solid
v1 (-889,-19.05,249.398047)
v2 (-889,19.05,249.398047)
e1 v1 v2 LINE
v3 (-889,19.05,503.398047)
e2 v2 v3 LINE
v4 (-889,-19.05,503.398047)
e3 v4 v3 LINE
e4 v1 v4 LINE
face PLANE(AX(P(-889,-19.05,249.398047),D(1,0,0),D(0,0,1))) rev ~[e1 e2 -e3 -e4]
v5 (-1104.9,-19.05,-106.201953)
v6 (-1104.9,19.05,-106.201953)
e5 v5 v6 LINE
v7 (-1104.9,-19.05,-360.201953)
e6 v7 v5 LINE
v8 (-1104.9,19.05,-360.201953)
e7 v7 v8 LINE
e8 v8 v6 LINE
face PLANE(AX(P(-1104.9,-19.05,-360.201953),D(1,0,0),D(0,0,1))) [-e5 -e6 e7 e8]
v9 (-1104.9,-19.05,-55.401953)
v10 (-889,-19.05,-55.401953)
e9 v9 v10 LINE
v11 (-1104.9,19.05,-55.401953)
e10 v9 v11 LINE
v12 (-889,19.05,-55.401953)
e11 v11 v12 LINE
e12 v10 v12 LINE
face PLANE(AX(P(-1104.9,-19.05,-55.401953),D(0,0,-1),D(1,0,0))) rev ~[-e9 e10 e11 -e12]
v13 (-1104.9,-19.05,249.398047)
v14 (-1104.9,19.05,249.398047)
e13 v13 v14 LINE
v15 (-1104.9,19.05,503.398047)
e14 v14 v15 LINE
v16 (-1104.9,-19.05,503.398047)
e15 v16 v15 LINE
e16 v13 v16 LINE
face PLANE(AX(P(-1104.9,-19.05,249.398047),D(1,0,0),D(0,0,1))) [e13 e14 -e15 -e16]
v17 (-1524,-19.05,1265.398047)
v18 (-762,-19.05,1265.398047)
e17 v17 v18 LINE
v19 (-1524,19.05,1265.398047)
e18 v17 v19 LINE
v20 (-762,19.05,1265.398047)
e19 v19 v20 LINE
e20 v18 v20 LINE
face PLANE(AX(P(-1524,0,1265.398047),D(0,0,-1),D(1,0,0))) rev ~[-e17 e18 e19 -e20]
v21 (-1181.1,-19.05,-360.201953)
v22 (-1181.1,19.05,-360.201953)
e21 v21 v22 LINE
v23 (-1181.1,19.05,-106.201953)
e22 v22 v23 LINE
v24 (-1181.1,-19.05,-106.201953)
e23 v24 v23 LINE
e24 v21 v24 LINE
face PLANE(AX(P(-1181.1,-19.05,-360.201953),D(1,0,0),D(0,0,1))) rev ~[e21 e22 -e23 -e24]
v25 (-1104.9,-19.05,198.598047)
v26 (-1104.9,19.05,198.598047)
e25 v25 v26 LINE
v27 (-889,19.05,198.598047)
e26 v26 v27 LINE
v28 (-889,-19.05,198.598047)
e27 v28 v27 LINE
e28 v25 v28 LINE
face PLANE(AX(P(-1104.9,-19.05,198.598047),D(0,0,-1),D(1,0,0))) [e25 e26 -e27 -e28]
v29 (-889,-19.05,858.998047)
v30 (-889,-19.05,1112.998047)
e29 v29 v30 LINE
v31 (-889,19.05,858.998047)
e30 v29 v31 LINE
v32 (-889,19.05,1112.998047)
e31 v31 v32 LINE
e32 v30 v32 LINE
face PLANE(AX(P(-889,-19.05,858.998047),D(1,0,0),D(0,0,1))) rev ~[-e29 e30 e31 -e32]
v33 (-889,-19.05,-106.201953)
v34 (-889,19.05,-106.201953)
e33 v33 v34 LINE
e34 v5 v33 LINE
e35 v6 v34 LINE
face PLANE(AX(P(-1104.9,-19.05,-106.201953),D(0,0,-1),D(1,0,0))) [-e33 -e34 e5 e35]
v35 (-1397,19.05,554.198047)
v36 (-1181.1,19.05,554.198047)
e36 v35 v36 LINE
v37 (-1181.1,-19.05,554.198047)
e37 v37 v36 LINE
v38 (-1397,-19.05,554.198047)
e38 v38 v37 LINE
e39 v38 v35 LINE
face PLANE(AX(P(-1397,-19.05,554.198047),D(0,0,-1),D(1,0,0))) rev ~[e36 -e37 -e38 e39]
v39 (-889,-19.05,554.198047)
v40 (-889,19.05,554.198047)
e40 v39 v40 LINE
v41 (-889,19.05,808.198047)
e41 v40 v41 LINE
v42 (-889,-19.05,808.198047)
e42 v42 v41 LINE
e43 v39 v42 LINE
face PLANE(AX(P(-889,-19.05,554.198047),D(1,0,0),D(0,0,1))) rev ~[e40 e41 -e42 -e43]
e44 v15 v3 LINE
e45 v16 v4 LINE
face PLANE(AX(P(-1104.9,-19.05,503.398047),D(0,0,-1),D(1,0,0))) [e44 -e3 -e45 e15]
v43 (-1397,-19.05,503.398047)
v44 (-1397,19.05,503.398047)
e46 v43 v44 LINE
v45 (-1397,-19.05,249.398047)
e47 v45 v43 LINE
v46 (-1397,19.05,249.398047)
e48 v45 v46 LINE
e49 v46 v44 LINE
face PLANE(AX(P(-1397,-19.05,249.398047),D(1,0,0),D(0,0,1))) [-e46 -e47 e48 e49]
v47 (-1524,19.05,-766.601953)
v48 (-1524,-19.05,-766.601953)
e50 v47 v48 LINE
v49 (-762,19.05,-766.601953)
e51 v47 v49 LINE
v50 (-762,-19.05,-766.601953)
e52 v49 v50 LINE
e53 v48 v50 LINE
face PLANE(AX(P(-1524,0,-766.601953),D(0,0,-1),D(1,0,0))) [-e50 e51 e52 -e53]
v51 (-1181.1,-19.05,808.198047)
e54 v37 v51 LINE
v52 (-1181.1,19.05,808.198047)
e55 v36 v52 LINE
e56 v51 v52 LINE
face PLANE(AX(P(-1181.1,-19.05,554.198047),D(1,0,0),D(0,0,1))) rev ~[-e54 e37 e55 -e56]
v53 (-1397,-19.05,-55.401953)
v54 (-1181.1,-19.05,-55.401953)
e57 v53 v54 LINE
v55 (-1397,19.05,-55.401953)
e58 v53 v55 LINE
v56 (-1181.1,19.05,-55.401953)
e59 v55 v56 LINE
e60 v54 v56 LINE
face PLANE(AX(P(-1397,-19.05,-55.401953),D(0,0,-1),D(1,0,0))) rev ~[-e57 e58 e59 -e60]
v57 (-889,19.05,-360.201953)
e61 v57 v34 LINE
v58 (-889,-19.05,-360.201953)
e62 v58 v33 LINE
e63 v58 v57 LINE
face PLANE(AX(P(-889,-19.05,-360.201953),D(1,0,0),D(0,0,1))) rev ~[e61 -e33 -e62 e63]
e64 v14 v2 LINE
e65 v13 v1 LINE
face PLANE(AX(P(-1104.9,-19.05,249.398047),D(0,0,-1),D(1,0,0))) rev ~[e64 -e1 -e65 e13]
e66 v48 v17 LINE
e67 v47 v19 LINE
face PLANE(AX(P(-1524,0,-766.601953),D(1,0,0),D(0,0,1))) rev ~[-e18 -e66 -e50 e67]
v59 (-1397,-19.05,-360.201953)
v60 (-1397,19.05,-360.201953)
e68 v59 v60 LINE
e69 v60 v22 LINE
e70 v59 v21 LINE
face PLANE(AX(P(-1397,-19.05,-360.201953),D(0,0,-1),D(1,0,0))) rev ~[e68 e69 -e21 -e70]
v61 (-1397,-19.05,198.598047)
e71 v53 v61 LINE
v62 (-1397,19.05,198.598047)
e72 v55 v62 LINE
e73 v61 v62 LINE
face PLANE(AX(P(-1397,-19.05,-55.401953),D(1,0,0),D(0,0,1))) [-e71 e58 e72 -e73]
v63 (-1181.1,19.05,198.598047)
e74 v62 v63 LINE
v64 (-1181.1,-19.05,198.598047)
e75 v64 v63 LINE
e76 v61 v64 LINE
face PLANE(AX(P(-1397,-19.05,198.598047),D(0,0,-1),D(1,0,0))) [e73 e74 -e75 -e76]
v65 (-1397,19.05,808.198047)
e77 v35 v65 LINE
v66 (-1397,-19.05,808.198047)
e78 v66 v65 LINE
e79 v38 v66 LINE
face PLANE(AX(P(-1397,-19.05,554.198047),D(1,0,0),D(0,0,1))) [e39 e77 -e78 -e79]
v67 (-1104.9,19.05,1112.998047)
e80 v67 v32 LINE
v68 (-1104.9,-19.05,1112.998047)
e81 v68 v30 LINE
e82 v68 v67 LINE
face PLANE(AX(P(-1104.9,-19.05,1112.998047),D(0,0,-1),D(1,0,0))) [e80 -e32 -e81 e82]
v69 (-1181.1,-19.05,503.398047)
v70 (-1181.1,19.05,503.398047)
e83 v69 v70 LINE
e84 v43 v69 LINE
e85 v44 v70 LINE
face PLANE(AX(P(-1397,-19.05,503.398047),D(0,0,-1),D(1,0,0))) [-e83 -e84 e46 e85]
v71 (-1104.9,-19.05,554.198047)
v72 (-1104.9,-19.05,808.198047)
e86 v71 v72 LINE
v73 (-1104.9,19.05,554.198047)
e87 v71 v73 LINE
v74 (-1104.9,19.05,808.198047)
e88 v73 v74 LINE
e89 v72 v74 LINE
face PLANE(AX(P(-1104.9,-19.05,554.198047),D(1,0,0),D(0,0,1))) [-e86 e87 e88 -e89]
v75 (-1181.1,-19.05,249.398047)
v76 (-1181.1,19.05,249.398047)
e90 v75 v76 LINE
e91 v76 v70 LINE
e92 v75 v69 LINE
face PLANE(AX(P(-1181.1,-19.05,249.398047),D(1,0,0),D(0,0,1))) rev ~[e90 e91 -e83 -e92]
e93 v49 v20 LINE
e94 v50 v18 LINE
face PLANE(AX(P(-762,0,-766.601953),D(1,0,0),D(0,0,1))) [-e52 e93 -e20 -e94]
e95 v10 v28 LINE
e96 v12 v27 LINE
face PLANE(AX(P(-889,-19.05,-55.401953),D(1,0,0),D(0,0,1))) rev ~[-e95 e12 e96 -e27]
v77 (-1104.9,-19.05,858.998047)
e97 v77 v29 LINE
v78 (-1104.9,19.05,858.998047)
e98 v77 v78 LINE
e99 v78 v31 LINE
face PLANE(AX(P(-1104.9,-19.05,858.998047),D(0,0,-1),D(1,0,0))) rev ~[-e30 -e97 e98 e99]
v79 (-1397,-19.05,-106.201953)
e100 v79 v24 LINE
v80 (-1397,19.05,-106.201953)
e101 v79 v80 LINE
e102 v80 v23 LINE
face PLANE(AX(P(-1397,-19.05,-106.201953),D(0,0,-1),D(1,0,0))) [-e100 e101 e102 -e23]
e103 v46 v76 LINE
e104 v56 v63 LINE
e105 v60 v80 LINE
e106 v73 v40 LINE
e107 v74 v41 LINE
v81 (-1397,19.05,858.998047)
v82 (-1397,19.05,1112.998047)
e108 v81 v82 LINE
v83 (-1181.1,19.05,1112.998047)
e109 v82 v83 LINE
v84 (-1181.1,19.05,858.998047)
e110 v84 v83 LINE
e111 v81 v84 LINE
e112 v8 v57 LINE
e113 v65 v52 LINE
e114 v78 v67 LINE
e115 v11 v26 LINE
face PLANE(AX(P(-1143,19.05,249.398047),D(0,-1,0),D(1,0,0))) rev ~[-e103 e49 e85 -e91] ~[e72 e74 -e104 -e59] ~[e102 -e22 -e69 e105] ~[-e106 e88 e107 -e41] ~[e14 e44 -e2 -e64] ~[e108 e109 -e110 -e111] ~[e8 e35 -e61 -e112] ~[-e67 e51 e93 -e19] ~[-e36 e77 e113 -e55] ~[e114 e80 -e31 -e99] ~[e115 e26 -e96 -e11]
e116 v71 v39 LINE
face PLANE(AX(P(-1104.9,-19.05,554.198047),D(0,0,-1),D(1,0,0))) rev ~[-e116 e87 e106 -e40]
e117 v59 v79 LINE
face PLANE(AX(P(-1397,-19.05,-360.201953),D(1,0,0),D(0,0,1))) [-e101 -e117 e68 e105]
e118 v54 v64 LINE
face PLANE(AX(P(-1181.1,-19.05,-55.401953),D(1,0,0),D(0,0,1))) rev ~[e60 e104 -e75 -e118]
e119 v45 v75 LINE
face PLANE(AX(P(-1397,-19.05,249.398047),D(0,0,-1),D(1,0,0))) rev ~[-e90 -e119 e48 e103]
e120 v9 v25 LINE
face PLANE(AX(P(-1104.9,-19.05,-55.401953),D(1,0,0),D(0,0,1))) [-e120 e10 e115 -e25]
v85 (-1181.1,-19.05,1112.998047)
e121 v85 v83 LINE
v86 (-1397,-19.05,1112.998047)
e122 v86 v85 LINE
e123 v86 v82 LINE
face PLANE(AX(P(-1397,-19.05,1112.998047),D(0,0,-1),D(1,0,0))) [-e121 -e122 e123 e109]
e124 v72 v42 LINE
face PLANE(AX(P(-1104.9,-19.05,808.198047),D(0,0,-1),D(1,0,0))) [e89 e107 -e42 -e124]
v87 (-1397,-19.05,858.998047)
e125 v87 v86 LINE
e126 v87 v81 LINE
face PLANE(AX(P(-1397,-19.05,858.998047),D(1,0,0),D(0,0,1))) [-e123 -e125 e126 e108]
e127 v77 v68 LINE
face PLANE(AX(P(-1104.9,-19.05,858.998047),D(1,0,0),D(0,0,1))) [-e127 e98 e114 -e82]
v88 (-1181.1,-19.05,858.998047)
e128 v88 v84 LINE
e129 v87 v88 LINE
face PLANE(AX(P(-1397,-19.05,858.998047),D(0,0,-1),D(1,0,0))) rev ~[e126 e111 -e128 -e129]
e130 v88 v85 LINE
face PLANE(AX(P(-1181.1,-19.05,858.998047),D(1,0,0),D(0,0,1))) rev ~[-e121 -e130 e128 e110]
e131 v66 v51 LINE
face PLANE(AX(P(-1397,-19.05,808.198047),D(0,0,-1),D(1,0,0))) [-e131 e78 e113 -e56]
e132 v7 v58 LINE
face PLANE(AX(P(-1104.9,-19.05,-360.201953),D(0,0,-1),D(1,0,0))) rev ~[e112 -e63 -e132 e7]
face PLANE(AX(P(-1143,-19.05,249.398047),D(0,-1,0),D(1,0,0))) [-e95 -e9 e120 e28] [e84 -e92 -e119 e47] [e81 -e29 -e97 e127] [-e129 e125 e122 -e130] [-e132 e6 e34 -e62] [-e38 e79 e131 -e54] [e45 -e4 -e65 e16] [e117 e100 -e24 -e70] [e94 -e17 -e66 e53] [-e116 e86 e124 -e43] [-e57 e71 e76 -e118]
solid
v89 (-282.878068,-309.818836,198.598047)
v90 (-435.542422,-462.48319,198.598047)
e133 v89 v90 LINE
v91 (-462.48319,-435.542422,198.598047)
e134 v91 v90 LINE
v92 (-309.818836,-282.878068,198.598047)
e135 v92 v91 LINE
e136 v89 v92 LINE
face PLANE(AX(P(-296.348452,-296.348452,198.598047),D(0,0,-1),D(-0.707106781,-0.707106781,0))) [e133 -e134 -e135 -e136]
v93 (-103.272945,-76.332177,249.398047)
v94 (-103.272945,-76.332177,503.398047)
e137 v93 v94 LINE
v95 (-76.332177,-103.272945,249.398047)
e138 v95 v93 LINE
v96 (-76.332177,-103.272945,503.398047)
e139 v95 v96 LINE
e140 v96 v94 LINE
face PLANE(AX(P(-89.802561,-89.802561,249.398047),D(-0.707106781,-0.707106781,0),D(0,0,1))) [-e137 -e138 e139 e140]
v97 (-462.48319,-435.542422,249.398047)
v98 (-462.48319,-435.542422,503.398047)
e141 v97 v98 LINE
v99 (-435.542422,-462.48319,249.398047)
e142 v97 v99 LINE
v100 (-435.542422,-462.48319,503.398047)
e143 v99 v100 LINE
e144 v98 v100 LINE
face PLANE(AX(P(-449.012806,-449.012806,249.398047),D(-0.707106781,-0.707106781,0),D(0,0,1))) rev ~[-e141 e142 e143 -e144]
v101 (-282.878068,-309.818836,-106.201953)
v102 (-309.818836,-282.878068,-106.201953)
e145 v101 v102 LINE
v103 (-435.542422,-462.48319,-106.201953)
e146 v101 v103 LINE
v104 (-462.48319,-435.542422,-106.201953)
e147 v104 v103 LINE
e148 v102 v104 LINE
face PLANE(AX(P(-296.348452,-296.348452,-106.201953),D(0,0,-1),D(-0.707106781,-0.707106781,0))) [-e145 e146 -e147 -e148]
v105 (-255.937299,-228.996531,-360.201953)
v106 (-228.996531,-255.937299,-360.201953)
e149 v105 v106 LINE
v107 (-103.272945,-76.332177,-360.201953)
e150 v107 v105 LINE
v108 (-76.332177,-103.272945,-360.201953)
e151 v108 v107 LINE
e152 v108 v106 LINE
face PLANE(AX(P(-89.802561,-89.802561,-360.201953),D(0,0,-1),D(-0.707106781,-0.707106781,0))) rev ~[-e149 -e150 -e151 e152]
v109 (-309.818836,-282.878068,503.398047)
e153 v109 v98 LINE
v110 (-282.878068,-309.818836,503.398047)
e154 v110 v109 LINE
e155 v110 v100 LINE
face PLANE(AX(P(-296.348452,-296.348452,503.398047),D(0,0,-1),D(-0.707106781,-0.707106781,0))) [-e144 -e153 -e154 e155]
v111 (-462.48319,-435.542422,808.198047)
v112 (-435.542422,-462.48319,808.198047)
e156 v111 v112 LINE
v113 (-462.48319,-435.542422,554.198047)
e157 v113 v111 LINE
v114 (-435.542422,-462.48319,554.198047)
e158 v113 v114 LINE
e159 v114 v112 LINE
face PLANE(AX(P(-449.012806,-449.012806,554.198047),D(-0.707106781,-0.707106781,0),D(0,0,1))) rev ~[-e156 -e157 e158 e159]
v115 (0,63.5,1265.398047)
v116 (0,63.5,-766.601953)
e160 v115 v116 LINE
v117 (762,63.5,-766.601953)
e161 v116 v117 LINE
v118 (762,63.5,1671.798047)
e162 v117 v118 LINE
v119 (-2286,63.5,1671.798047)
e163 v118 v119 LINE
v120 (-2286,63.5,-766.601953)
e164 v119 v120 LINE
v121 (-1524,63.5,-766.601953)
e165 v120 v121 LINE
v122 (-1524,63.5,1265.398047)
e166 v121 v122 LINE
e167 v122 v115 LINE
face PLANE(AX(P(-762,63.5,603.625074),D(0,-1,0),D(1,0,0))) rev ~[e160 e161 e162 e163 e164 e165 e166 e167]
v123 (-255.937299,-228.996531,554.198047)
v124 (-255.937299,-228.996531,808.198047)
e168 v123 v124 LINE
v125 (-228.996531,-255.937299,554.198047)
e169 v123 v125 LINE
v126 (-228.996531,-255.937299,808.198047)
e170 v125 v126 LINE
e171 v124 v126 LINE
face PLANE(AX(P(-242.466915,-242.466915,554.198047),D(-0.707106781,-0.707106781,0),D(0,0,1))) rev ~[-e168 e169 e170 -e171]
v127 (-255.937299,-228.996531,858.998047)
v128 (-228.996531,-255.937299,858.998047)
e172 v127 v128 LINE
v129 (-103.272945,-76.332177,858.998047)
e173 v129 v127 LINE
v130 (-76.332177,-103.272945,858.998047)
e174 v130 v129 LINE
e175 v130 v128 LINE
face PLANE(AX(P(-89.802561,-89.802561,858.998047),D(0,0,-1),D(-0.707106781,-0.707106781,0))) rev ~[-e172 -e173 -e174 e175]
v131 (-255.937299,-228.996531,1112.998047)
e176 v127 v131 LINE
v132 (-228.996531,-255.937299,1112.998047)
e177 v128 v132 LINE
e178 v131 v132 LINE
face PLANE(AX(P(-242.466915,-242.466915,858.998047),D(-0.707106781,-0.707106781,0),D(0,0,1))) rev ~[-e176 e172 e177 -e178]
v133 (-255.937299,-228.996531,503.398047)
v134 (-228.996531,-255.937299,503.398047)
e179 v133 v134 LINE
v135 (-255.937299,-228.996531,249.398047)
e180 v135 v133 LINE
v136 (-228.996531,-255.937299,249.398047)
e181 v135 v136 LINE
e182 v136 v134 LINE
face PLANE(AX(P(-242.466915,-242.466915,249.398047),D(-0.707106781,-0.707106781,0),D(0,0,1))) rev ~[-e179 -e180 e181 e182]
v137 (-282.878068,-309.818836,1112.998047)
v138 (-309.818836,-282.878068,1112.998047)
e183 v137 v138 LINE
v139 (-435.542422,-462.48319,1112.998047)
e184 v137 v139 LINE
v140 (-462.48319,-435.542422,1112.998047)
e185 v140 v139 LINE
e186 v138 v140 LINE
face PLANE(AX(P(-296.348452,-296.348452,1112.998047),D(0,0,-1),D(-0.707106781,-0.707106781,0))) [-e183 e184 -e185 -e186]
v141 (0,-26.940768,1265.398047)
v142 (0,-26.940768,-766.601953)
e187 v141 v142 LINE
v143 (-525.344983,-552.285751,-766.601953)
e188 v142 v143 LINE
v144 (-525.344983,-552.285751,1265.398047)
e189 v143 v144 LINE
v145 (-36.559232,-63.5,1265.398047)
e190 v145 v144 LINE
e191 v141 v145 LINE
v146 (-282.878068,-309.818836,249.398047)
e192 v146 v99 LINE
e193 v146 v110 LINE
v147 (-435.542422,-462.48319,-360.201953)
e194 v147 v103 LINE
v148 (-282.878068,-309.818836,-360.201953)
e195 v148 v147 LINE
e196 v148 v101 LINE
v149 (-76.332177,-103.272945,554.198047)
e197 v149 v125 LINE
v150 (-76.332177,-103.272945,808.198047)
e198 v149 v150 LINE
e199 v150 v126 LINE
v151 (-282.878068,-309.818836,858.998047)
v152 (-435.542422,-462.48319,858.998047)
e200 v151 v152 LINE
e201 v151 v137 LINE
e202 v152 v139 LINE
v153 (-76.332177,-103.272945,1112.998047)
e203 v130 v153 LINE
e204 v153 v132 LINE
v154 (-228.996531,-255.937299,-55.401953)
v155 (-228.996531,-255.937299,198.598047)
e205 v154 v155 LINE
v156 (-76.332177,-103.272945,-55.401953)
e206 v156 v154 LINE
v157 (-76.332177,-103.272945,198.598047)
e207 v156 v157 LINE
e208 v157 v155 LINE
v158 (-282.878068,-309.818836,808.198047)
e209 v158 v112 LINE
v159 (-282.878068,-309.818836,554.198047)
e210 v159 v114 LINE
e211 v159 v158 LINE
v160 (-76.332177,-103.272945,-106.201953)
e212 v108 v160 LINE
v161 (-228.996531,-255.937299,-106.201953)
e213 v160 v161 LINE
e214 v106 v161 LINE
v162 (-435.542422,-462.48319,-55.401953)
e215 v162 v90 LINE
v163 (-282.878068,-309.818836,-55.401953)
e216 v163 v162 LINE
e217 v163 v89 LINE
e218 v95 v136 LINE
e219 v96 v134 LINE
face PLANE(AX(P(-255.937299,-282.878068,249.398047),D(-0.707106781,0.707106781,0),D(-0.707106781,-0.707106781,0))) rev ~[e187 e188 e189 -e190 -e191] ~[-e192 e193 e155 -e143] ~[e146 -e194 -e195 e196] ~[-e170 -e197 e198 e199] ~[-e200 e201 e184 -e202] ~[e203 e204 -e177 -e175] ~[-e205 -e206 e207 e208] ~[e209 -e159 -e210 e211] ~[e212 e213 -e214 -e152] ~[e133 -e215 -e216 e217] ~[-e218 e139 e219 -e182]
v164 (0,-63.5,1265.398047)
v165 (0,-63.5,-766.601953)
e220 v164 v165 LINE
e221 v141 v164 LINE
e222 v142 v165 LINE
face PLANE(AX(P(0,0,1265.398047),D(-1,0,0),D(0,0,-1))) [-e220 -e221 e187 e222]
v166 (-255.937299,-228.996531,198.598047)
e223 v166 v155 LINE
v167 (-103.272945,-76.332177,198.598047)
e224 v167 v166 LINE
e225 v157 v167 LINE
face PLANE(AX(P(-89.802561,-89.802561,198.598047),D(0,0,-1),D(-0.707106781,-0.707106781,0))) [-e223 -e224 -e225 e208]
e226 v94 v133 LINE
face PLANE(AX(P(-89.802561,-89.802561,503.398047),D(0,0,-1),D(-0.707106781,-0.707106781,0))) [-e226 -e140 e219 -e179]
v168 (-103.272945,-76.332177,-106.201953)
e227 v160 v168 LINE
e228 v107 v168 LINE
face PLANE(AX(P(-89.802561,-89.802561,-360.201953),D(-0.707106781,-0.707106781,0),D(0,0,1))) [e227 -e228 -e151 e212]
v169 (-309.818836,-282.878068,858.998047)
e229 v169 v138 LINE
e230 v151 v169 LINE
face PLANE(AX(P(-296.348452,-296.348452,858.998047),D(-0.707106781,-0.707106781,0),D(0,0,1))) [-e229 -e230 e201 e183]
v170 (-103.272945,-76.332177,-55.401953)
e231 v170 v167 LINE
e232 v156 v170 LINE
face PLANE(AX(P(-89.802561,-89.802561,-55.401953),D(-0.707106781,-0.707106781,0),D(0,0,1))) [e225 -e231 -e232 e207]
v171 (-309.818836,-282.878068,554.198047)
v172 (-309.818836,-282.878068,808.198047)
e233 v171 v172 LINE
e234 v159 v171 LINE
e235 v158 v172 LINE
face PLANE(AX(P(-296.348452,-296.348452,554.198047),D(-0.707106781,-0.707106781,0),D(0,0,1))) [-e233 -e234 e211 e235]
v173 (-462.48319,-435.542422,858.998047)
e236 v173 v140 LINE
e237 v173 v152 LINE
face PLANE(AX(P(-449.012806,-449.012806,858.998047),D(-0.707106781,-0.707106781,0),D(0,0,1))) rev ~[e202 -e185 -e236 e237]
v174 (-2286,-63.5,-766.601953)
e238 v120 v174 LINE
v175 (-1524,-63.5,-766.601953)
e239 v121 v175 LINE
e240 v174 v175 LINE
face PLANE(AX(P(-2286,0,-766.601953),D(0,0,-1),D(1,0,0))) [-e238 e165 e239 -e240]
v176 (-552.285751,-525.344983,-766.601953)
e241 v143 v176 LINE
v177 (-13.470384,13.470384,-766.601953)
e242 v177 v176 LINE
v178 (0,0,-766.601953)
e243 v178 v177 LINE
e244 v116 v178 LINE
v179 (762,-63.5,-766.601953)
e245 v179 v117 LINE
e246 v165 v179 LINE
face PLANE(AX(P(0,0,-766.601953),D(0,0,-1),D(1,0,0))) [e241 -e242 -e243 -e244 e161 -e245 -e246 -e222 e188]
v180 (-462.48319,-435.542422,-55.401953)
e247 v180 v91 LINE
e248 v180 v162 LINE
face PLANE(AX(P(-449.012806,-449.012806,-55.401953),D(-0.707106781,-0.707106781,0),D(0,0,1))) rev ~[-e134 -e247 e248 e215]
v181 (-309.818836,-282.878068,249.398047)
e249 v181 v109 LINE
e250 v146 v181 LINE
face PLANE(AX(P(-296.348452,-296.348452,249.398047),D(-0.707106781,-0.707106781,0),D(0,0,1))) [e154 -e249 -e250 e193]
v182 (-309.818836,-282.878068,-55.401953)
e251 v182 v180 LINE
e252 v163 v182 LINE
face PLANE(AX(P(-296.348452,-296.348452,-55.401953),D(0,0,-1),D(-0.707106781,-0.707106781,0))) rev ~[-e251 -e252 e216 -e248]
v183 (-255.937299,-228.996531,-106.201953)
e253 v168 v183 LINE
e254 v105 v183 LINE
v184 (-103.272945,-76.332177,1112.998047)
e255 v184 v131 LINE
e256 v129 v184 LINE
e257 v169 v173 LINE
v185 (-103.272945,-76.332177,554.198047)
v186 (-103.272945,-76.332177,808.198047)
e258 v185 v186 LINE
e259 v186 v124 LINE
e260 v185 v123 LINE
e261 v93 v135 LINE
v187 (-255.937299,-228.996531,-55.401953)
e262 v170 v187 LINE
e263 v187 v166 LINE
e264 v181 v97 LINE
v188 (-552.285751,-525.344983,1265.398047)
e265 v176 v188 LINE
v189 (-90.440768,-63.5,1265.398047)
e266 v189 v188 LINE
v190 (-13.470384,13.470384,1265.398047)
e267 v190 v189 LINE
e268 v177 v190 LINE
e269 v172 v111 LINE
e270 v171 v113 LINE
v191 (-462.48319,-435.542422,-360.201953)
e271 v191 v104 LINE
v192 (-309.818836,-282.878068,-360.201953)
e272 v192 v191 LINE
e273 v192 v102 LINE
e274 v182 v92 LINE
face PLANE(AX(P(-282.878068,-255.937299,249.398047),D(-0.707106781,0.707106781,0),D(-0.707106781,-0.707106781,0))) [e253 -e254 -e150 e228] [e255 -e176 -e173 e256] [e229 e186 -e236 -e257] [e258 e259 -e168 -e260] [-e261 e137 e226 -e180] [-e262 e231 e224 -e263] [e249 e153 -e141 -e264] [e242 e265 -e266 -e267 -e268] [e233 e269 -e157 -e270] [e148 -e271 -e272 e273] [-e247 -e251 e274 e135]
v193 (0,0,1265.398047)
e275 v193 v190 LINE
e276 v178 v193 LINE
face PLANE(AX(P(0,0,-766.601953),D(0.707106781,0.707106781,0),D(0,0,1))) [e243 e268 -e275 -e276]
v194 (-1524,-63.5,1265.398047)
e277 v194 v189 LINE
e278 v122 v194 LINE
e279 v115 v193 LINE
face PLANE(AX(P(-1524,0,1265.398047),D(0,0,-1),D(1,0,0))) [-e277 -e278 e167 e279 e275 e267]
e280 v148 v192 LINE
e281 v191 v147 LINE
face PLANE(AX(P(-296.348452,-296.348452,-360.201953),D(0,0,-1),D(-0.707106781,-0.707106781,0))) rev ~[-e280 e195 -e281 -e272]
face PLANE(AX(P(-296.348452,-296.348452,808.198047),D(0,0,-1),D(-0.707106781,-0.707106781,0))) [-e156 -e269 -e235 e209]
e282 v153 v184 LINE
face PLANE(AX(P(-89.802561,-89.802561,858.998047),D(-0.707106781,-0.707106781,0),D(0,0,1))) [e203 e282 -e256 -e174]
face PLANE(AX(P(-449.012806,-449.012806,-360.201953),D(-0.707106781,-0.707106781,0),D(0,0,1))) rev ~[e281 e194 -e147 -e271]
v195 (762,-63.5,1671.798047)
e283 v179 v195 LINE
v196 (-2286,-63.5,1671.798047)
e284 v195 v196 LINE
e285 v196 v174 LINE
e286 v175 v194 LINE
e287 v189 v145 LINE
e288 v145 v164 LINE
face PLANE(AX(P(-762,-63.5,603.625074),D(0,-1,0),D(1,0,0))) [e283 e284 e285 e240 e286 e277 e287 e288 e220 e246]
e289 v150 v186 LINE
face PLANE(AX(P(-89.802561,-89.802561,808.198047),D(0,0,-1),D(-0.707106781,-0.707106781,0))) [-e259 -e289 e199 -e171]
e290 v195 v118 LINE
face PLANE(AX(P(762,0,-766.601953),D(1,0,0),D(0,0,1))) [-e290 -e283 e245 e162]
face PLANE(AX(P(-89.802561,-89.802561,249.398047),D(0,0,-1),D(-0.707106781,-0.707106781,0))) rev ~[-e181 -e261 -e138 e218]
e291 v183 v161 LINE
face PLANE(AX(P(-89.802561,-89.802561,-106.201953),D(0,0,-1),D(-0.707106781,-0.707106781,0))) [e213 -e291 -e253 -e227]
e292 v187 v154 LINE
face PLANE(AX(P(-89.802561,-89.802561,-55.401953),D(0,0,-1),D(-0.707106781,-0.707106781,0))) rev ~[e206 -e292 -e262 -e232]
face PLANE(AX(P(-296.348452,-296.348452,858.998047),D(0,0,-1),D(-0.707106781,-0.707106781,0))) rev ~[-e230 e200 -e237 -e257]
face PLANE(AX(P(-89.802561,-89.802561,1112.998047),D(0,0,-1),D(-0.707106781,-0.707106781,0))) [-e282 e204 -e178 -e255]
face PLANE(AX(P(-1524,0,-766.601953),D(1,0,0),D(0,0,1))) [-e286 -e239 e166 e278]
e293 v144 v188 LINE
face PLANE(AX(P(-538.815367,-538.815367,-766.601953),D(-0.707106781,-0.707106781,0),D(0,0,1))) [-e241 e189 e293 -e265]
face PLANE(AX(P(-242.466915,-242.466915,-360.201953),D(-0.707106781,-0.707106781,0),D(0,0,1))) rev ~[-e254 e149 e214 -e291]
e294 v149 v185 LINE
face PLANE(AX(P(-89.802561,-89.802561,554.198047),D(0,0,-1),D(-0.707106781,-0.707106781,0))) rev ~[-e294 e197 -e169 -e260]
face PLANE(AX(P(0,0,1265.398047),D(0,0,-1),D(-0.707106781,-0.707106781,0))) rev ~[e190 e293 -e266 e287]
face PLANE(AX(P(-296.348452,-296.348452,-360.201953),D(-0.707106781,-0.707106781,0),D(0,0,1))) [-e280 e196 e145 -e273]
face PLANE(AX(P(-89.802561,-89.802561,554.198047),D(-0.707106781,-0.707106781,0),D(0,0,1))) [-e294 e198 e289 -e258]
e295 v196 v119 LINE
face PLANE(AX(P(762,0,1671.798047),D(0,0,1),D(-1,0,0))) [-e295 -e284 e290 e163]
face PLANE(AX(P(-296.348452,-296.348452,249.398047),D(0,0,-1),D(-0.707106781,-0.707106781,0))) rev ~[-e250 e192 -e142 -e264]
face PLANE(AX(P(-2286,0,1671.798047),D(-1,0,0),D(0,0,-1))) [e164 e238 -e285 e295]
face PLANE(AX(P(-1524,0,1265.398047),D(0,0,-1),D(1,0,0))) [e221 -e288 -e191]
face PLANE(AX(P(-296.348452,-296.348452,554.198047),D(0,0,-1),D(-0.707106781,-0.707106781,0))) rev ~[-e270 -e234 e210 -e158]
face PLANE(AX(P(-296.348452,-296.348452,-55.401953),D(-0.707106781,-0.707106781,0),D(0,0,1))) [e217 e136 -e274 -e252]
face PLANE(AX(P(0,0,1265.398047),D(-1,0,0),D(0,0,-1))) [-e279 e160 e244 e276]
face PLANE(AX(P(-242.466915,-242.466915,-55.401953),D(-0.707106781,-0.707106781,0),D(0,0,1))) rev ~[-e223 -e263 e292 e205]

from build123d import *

# Parameters (mm, degrees)
F1_DEPTH      = 63.5
F1_DEPTH_BACK = 63.5
F2_W          = 762
F2_H          = 2032
F3_DEPTH      = 19.05
F3_DEPTH_BACK = 19.05
F6_W          = 215.9
F6_H          = 254
F7_DEPTH      = 82.551
F8_W          = 762
F8_H          = 2032
F8_W_2        = 215.9
F8_H_2        = 254
F9_DEPTH      = 19.05
F9_DEPTH_BACK = 19.05


with BuildPart() as f1:
    # F0 (on Front) → F1 (new body, two sides)
    with BuildSketch(Plane.XZ) as f1_sk:
        Polygon((-2286, 1671.798047), (-2286, -766.601953), (-1524, -766.601953), (-1524, 1265.398047), (0, 1265.398047), (0, -766.601953), (762, -766.601953), (762, 1671.798047), align=None)
    extrude(amount=F1_DEPTH)
    extrude(f1_sk.sketch, amount=-F1_DEPTH_BACK)

    # F8 (on face) → F9 (join, two sides)
    with BuildSketch(Plane(origin=(0, 0, 0), x_dir=(-0.707107, -0.707107, 0), z_dir=(-0.707107, 0.707107, 0))) as f9_sk:
        with Locations((381, 249.398047)):
            Rectangle(F8_W, F8_H)
        with Locations((234.95, -233.201953)):
            Rectangle(F8_W_2, F8_H_2, mode=Mode.SUBTRACT)
        with Locations((234.95, 71.598047)):
            Rectangle(F8_W_2, F8_H_2, mode=Mode.SUBTRACT)
        with Locations((527.05, -233.201953)):
            Rectangle(F8_W_2, F8_H_2, mode=Mode.SUBTRACT)
        with Locations((527.05, 71.598047)):
            Rectangle(F8_W_2, F8_H_2, mode=Mode.SUBTRACT)
        with Locations((234.95, 376.398047)):
            Rectangle(F8_W_2, F8_H_2, mode=Mode.SUBTRACT)
        with Locations((234.95, 681.198047)):
            Rectangle(F8_W_2, F8_H_2, mode=Mode.SUBTRACT)
        with Locations((234.95, 985.998047)):
            Rectangle(F8_W_2, F8_H_2, mode=Mode.SUBTRACT)
        with Locations((527.05, 376.398047)):
            Rectangle(F8_W_2, F8_H_2, mode=Mode.SUBTRACT)
        with Locations((527.05, 681.198047)):
            Rectangle(F8_W_2, F8_H_2, mode=Mode.SUBTRACT)
        with Locations((527.05, 985.998047)):
            Rectangle(F8_W_2, F8_H_2, mode=Mode.SUBTRACT)
    extrude(amount=F9_DEPTH)
    extrude(f9_sk.sketch, amount=-F9_DEPTH_BACK)


with BuildPart() as f3:
    # F2 (on Front) → F3 (new body, two sides)
    with BuildSketch(Plane.XZ) as f3_sk:
        with Locations((-1143, 249.398047)):
            Rectangle(F2_W, F2_H)
    extrude(amount=F3_DEPTH)
    extrude(f3_sk.sketch, amount=-F3_DEPTH_BACK)

    # F6 (on face) → F7 (cut, through all)
    with BuildSketch(Plane.XZ.offset(19.05)):
        with Locations((-1289.05, 985.998047)):
            Rectangle(F6_W, F6_H)
        with Locations((-996.95, 985.998047)):
            Rectangle(F6_W, F6_H)
        with Locations((-1289.05, 681.198047)):
            Rectangle(F6_W, F6_H)
        with Locations((-996.95, 681.198047)):
            Rectangle(F6_W, F6_H)
        with Locations((-1289.05, 376.398047)):
            Rectangle(F6_W, F6_H)
        with Locations((-996.95, 376.398047)):
            Rectangle(F6_W, F6_H)
        with Locations((-1289.05, 71.598047)):
            Rectangle(F6_W, F6_H)
        with Locations((-996.95, 71.598047)):
            Rectangle(F6_W, F6_H)
        with Locations((-1289.05, -233.201953)):
            Rectangle(F6_W, F6_H)
        with Locations((-996.95, -233.201953)):
            Rectangle(F6_W, F6_H)
    extrude(amount=-F7_DEPTH, mode=Mode.SUBTRACT)


solid = Compound([f1.part, f3.part])
